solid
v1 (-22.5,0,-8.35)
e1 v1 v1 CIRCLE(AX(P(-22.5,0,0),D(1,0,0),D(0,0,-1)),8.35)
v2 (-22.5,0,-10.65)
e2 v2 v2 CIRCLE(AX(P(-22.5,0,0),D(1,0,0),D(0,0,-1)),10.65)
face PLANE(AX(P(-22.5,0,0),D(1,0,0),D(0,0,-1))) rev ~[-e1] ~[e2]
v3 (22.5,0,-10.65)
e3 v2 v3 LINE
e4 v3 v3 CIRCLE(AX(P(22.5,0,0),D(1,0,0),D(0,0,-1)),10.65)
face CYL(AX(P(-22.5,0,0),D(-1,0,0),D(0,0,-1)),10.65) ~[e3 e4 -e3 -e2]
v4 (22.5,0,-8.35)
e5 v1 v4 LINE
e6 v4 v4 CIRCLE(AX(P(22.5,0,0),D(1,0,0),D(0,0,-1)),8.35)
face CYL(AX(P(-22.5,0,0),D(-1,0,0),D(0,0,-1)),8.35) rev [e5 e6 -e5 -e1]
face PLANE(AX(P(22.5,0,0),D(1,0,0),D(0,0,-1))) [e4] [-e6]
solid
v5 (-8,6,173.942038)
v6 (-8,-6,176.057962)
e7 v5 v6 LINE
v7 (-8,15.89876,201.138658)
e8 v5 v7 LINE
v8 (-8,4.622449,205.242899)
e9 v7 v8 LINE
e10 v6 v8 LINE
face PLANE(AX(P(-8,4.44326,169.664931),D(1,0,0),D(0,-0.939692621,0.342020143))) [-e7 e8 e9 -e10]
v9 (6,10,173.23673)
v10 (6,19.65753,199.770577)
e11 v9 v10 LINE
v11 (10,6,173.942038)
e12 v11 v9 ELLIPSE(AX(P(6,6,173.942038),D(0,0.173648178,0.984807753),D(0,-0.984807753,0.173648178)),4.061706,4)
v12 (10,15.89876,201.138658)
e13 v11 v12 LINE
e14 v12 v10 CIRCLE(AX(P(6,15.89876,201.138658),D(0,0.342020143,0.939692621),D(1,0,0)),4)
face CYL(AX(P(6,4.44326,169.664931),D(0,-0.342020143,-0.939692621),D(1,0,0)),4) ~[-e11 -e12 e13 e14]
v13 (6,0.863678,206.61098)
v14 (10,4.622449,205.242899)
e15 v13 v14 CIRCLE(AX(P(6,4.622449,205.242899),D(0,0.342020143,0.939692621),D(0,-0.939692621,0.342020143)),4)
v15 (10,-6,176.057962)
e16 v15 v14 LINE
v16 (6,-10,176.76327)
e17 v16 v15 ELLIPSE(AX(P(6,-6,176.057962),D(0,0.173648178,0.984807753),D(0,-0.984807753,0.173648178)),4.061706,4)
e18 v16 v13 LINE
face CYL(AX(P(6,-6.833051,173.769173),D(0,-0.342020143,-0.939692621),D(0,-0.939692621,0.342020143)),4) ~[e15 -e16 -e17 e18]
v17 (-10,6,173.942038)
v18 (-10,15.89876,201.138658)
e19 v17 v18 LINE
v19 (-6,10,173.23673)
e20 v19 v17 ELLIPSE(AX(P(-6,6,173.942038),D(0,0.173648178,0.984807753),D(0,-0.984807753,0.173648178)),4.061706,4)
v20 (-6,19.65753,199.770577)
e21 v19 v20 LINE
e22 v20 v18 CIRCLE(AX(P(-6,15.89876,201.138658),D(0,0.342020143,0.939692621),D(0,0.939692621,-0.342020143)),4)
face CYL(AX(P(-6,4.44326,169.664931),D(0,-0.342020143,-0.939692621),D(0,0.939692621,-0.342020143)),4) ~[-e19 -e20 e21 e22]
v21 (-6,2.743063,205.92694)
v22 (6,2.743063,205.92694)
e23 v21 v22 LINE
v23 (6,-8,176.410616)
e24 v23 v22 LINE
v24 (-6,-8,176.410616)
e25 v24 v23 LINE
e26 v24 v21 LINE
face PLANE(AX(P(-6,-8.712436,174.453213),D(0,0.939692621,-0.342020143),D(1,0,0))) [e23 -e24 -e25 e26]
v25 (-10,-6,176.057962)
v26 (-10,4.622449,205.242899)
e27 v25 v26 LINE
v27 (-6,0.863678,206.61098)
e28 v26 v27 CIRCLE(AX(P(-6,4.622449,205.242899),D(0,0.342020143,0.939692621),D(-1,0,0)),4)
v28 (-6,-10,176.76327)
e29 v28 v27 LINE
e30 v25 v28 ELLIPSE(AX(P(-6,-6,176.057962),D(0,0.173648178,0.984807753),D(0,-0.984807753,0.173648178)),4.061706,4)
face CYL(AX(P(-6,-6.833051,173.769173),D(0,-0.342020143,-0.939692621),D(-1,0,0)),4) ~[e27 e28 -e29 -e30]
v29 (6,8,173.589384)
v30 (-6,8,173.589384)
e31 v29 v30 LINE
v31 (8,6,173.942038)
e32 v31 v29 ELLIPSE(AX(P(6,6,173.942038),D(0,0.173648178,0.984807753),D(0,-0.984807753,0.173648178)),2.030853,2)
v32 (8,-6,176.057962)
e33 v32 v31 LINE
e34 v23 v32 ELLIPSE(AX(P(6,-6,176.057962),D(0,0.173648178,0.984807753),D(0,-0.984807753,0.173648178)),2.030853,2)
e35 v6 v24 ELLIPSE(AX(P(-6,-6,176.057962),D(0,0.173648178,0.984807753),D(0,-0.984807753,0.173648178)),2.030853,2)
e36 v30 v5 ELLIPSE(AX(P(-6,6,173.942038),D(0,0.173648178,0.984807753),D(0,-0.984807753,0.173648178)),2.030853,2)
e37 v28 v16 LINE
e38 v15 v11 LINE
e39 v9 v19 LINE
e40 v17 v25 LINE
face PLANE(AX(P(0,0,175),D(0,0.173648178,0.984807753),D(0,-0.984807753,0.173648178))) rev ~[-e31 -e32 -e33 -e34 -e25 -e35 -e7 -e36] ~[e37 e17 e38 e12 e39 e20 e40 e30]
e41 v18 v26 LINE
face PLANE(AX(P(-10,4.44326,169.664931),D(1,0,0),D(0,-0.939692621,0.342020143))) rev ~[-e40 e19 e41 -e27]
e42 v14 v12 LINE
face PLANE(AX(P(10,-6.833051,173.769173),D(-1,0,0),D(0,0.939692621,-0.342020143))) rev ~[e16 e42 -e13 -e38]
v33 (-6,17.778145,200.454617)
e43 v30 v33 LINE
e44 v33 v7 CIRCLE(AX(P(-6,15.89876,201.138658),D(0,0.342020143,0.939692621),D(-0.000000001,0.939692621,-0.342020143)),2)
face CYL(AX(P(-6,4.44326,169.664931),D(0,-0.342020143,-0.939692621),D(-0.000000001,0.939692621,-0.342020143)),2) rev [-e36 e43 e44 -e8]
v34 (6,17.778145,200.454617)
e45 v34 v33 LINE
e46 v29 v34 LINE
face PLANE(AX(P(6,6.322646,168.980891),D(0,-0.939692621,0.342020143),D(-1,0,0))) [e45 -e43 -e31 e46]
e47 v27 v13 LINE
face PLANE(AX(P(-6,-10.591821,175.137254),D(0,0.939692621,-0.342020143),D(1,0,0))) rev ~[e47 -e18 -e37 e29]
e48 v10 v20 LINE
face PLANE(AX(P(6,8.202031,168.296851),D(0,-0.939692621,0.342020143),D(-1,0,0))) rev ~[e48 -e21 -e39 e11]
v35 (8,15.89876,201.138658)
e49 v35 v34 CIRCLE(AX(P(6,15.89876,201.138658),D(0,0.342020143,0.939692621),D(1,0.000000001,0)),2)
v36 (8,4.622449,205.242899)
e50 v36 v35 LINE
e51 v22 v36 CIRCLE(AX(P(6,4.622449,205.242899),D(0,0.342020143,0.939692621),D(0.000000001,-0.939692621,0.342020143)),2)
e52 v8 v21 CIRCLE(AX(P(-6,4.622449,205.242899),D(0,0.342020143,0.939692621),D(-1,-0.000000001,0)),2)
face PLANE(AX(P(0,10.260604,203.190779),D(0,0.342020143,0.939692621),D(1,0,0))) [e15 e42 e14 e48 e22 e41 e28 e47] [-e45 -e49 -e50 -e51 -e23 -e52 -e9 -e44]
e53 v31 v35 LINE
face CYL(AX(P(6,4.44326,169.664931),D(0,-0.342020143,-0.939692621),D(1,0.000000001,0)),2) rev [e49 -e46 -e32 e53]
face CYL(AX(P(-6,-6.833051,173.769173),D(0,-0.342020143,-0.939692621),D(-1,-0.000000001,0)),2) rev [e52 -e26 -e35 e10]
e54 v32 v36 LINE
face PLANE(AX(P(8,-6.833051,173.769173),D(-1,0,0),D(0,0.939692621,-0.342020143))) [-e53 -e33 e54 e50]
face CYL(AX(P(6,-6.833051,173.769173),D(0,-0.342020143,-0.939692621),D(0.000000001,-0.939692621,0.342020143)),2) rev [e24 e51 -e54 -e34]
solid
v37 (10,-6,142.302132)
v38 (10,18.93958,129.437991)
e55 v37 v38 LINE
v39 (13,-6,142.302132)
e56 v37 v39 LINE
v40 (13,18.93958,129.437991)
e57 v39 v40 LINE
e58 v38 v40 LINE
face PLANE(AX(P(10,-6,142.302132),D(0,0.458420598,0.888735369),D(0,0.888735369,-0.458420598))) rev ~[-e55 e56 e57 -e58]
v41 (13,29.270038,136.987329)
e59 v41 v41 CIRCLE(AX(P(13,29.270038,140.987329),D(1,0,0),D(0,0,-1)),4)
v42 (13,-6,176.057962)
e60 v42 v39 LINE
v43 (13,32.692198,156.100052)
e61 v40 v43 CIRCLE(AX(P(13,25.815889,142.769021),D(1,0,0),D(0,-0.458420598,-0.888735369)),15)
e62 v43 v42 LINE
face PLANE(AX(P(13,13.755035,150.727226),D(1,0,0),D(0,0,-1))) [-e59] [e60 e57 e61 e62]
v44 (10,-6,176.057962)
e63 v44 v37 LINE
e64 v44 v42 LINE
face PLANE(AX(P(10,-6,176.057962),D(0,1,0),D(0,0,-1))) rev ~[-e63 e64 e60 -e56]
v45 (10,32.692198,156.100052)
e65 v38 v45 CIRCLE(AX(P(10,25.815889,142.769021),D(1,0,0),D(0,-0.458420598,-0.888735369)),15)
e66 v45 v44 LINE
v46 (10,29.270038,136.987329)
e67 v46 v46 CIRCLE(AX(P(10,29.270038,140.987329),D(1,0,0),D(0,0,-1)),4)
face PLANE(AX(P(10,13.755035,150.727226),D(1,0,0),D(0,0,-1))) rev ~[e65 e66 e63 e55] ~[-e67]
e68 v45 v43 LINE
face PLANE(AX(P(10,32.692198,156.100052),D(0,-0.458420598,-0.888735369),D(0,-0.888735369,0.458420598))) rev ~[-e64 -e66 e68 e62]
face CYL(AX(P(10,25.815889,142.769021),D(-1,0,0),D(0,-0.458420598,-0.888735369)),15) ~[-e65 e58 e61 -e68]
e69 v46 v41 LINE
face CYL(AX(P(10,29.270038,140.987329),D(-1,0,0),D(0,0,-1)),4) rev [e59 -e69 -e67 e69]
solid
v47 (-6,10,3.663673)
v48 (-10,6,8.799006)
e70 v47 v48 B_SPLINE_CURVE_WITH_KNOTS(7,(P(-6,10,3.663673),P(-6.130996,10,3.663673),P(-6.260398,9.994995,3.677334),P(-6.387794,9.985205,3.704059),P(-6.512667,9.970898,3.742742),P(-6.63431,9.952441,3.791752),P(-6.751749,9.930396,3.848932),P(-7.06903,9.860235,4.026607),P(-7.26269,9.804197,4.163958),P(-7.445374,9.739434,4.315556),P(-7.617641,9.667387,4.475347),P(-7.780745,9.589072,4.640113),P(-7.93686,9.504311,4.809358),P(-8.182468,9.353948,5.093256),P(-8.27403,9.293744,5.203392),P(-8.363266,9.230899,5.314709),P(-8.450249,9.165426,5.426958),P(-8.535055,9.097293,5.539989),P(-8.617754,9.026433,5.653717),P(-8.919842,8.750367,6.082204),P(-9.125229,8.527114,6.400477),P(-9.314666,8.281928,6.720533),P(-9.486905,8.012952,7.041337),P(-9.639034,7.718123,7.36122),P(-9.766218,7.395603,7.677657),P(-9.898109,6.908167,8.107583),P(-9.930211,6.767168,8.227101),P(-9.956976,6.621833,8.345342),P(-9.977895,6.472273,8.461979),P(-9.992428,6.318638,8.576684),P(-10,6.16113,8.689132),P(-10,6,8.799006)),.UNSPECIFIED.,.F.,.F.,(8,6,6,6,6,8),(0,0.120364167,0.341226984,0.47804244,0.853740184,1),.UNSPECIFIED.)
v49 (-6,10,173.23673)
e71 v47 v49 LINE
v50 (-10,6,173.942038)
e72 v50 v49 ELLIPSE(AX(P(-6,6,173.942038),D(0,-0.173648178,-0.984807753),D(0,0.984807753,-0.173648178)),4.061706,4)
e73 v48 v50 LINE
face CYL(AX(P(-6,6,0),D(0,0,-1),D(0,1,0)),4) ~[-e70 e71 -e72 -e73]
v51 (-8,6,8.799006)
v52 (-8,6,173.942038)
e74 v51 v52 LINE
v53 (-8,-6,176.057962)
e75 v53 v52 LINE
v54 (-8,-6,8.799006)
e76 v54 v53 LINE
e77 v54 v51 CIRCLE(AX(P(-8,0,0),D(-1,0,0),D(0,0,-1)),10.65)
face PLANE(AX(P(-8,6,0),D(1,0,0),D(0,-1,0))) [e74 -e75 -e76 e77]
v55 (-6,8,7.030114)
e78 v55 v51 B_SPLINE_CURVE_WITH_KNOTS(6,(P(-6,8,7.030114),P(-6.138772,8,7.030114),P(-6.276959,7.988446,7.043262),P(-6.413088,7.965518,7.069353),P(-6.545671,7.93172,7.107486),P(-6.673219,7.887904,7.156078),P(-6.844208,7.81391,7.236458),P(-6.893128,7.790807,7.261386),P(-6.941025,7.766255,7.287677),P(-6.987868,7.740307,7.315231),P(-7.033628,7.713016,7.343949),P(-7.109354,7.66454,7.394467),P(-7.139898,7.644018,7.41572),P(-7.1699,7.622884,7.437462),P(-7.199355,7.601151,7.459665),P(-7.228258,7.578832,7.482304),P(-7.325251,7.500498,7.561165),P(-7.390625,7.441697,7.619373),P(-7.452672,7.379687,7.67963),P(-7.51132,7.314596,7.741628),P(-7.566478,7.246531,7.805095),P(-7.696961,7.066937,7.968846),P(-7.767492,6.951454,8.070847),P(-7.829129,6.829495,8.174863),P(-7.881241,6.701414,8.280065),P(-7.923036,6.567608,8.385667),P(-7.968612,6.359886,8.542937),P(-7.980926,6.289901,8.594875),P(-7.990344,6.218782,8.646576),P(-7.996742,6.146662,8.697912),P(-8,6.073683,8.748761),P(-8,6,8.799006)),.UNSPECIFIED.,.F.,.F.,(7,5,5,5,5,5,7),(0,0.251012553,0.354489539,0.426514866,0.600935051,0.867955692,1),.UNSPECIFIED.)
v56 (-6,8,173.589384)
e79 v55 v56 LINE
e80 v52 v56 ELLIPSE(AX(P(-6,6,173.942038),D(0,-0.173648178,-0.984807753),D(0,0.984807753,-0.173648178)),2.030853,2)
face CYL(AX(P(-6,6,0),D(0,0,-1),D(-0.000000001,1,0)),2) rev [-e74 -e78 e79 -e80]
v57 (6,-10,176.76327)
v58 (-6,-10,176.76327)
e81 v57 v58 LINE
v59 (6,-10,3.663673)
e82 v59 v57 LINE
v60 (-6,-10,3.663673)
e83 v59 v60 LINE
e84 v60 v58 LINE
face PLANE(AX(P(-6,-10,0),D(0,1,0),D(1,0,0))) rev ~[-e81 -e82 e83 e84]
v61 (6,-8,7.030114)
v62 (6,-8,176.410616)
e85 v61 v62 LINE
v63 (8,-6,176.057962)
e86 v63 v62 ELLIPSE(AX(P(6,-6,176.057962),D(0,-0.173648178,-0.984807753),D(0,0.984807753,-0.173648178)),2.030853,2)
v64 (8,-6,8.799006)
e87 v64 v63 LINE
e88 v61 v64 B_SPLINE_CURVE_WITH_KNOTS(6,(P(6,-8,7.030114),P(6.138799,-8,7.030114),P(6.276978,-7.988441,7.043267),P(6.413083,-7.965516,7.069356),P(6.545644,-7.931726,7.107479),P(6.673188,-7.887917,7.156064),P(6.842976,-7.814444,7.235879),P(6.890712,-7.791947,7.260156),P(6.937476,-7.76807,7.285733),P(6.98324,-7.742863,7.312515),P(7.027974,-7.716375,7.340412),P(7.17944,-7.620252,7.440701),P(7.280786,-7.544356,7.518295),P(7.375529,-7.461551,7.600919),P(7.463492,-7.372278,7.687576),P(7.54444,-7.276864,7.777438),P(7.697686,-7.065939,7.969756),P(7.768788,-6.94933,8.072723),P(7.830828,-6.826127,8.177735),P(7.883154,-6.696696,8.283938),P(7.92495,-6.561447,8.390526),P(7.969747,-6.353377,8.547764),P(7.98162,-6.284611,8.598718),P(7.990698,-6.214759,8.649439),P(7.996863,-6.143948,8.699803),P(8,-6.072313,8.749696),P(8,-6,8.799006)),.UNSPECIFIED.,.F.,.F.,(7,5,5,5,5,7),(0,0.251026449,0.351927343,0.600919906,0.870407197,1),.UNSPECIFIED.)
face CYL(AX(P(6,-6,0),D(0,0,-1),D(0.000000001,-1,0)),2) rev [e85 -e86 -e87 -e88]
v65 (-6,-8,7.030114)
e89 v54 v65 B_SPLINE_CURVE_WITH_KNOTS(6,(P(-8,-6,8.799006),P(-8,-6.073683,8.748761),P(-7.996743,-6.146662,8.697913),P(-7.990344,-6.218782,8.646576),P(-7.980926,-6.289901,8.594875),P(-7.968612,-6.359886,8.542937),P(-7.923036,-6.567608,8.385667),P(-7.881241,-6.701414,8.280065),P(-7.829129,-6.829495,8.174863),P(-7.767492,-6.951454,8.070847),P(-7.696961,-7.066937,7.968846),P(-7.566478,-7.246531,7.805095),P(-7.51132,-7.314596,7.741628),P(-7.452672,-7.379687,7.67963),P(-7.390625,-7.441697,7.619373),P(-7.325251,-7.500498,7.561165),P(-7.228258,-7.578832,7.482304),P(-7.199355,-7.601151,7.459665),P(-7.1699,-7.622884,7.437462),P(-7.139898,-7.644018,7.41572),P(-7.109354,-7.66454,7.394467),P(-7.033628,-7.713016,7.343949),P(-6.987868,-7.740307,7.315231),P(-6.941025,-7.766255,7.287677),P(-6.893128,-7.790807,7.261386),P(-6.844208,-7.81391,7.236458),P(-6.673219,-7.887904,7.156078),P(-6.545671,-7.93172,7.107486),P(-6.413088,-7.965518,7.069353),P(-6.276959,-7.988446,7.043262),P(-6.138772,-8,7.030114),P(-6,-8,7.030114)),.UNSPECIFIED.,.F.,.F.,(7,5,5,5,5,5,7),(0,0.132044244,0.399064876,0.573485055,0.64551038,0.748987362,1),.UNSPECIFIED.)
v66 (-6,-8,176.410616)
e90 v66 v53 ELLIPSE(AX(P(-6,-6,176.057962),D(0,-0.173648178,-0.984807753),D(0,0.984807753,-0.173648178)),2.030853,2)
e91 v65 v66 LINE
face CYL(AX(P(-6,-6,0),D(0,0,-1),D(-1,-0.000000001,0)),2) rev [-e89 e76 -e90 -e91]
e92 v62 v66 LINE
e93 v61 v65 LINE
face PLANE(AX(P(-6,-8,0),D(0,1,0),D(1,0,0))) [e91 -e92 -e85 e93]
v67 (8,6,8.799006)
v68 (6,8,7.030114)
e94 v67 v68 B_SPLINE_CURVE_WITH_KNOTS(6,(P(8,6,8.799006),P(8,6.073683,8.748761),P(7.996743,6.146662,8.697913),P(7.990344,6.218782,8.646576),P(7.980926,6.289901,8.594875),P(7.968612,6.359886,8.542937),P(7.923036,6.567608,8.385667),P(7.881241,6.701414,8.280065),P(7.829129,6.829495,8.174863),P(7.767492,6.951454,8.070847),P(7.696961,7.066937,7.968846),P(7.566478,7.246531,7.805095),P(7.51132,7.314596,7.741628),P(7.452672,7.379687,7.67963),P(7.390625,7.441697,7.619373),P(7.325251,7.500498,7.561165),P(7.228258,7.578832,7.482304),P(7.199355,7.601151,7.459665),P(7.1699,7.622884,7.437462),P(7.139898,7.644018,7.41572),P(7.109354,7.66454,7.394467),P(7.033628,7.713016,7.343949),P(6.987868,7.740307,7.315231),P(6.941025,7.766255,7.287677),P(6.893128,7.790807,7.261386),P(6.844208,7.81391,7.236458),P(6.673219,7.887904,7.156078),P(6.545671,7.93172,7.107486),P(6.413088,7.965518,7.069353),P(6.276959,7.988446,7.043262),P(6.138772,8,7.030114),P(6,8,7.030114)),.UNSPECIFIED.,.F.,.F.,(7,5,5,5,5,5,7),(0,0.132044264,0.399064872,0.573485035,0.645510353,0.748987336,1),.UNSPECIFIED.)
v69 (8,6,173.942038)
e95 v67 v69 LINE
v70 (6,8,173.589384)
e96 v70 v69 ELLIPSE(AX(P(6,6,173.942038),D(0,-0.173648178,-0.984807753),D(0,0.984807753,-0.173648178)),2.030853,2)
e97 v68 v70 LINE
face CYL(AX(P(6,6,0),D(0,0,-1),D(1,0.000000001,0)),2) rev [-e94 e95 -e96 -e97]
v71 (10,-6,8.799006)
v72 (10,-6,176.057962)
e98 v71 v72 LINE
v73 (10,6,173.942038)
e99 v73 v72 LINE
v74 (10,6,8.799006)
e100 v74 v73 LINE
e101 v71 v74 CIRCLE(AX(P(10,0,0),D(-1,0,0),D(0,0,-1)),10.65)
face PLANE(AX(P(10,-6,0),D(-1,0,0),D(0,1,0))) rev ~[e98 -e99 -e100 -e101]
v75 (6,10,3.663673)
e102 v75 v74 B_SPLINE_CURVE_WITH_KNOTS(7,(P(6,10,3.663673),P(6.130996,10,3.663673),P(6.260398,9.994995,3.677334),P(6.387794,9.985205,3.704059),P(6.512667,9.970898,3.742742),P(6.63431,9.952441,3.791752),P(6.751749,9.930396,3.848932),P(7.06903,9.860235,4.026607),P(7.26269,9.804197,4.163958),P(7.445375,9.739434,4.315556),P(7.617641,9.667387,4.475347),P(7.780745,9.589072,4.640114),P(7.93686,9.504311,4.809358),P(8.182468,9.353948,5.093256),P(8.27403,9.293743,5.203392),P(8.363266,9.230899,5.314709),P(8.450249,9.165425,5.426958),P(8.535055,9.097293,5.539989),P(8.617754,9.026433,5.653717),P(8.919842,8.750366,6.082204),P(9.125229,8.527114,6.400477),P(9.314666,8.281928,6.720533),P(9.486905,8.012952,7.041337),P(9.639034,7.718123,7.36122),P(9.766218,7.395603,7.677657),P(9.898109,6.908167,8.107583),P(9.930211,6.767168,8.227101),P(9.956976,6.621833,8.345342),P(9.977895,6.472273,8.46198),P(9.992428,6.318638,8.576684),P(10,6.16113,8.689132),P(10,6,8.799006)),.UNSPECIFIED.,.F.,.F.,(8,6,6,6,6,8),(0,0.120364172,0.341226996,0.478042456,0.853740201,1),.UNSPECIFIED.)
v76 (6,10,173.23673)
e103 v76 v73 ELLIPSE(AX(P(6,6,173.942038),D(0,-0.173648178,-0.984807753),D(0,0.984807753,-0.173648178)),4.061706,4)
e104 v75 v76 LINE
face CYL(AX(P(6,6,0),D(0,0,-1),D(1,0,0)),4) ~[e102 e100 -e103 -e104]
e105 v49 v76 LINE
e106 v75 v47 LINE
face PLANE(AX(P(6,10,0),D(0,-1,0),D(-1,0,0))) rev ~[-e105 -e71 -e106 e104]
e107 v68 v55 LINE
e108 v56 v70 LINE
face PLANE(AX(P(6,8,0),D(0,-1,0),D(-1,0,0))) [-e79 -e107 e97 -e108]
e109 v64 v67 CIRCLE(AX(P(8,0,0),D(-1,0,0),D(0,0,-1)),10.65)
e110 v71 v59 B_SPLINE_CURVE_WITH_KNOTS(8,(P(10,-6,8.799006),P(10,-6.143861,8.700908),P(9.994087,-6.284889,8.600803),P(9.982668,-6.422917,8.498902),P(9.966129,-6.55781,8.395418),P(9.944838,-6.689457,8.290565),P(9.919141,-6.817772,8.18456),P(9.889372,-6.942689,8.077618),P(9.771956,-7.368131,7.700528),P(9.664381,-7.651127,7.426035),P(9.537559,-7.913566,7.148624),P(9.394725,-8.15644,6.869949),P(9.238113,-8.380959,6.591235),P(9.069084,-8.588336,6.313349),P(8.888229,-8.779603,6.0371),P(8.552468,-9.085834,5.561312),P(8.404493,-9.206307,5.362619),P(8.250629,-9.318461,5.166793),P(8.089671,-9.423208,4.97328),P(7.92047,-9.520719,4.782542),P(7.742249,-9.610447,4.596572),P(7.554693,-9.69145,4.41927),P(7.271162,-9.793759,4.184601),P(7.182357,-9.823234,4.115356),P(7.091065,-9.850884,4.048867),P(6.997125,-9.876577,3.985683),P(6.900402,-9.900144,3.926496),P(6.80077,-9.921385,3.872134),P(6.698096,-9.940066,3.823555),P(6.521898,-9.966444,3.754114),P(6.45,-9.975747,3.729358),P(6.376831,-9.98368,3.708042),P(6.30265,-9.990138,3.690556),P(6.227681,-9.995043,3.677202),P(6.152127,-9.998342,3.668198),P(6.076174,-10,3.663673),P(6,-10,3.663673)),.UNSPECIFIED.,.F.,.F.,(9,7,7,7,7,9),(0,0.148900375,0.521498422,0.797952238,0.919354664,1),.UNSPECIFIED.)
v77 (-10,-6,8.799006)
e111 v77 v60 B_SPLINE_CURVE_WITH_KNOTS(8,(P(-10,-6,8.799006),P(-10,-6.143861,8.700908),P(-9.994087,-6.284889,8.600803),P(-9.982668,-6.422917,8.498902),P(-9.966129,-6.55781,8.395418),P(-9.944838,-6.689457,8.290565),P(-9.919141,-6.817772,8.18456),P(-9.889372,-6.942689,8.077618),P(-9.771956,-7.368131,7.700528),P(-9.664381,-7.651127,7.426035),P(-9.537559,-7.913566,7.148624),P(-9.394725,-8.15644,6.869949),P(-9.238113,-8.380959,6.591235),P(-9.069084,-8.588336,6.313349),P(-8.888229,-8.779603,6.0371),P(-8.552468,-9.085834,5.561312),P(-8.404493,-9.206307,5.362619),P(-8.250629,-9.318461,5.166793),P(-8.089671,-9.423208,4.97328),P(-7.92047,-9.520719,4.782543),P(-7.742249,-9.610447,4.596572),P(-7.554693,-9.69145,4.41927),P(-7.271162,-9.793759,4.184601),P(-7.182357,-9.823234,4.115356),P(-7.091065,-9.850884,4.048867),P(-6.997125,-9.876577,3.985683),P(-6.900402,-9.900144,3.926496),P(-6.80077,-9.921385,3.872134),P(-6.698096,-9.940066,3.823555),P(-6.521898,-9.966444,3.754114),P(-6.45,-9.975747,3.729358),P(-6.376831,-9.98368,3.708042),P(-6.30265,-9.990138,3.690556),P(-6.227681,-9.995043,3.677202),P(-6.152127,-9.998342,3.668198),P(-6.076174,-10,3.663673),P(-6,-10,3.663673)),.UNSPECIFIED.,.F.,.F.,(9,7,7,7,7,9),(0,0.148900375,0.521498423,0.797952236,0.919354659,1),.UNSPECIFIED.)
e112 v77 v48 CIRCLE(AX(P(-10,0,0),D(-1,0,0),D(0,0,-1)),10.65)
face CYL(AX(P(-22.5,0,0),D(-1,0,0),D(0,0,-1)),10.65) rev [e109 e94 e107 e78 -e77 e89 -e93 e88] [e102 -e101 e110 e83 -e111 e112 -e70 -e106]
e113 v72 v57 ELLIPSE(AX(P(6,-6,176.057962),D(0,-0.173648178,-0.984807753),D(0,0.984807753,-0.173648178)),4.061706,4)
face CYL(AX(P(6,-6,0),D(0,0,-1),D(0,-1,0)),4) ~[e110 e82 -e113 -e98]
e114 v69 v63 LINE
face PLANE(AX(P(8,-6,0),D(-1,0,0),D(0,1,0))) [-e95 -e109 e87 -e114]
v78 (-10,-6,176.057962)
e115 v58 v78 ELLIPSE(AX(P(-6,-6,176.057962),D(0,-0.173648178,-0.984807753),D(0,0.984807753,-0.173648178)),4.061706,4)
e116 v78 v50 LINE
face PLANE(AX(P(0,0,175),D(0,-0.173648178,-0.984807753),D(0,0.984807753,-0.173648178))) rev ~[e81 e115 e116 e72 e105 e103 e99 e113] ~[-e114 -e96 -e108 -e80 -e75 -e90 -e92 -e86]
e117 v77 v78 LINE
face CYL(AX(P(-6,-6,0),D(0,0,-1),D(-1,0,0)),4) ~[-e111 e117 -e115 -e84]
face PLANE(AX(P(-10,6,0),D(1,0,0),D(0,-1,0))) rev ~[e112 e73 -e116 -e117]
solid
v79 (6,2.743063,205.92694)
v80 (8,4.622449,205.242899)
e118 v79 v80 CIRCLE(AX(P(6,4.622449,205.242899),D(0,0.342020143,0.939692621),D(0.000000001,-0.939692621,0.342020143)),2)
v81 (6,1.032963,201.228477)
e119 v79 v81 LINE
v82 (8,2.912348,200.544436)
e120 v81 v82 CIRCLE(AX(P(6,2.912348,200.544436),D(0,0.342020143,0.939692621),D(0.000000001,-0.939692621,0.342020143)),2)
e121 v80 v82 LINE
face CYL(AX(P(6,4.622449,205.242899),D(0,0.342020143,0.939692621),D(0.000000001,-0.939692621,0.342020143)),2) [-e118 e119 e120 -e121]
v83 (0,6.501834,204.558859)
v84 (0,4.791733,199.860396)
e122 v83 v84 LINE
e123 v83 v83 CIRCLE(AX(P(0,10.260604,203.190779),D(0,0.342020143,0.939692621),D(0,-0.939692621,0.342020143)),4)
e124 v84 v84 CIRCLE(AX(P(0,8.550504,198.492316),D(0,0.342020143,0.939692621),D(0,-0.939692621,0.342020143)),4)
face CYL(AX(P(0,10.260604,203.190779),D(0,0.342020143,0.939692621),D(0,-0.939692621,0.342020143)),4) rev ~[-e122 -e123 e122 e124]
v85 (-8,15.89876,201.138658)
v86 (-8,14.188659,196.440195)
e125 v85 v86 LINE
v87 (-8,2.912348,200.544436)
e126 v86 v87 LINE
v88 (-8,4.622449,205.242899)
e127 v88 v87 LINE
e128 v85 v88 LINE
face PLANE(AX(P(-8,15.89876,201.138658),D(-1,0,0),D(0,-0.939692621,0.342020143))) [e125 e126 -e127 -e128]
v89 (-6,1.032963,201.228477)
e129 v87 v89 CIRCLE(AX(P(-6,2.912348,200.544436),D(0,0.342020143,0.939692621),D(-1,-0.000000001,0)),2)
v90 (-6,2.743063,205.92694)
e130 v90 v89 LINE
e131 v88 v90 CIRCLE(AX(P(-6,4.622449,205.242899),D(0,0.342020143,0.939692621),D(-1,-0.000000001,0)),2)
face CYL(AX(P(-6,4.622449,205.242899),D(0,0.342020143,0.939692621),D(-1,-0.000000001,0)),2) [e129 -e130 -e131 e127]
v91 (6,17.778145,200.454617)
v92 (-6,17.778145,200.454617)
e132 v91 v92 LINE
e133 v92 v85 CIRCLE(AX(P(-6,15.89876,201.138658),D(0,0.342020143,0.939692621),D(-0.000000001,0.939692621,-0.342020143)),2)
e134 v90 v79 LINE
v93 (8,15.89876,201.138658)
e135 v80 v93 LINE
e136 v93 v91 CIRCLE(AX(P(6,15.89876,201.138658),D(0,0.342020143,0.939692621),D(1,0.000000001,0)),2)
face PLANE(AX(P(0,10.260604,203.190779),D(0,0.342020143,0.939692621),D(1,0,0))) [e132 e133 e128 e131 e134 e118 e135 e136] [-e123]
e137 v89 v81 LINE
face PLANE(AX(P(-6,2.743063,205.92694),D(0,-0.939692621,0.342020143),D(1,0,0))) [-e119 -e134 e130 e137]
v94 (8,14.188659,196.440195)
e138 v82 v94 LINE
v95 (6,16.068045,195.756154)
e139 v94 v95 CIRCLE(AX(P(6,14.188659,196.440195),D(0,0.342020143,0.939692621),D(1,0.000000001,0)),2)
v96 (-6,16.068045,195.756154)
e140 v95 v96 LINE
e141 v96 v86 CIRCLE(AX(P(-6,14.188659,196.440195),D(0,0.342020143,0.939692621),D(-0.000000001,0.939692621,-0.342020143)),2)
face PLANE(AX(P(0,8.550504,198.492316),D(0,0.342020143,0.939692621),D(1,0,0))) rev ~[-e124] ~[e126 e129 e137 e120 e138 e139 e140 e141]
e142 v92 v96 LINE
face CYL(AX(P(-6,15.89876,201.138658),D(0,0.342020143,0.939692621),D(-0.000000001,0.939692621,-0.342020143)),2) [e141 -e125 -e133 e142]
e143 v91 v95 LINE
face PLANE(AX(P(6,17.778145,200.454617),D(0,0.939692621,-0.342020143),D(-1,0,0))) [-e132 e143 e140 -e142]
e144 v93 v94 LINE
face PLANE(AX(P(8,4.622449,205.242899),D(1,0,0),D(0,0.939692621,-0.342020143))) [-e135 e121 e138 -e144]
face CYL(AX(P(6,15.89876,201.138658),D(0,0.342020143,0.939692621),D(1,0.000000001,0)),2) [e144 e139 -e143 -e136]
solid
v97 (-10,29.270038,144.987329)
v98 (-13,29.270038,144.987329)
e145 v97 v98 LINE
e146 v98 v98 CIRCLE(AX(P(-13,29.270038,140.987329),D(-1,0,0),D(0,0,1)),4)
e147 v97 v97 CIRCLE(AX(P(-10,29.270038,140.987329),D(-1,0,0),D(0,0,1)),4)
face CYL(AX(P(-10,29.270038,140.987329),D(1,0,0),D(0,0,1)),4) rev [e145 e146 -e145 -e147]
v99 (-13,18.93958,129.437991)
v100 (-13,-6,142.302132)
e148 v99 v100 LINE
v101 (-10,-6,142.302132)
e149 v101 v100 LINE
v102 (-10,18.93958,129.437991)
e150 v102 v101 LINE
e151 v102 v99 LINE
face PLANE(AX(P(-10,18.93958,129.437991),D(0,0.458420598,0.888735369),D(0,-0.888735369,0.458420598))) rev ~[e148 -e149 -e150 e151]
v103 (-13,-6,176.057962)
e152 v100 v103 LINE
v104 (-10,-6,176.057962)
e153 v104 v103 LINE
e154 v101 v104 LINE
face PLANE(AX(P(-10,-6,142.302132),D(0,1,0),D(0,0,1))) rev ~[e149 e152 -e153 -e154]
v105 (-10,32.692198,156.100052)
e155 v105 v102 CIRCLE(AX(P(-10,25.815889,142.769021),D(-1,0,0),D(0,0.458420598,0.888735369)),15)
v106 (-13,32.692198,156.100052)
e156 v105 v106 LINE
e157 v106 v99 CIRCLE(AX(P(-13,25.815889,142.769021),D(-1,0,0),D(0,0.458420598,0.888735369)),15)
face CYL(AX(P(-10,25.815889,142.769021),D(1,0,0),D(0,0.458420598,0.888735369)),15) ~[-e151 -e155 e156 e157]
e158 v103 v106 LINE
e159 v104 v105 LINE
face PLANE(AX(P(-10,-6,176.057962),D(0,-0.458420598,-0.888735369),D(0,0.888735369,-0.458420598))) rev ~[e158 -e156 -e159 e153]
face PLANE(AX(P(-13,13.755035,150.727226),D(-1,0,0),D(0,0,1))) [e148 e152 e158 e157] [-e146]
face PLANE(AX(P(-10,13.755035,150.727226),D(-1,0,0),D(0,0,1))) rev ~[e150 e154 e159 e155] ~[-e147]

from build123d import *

# Parameters (mm, degrees)
SQUARE_TUBE_20_X_20_X_2_1_DEPTH   = 178.493640075
SQUARE_TUBE_20_X_20_X_2_1_2_DEPTH = 33.493640075
SKETCH15_R                        = 10.65
SKETCH15_R_2                      = 8.35
PIPE_21_3_X_2_3_1_DEPTH           = 45
SKETCH16_R                        = 4
BOSS_EXTRUDE1_DEPTH               = 3
SKETCH17_R                        = 4
BOSS_EXTRUDE2_DEPTH               = 3
SKETCH18_R                        = 4
BOSS_EXTRUDE3_DEPTH               = 5


with BuildPart() as part:
    # Sketch14 → Square tube 20 X 20 X 2(1) (new body)
    with BuildSketch(Plane.XY):
        with BuildLine():
            Line((-6, -10), (6, -10))
            ThreePointArc((6, -10), (8.828427125, -8.828427125), (10, -6))
            Line((10, -6), (10, 6))
            ThreePointArc((10, 6), (8.828427125, 8.828427125), (6, 10))
            Line((6, 10), (-6, 10))
            ThreePointArc((-6, 10), (-8.828427125, 8.828427125), (-10, 6))
            Line((-10, 6), (-10, -6))
            ThreePointArc((-10, -6), (-8.828427125, -8.828427125), (-6, -10))
        make_face()
        with BuildLine():
            Line((-6, -8), (6, -8))
            ThreePointArc((6, -8), (7.414213562, -7.414213562), (8, -6))
            Line((8, -6), (8, 6))
            ThreePointArc((8, 6), (7.414213562, 7.414213562), (6, 8))
            Line((6, 8), (-6, 8))
            ThreePointArc((-6, 8), (-7.414213562, 7.414213562), (-8, 6))
            Line((-8, 6), (-8, -6))
            ThreePointArc((-8, -6), (-7.414213562, -7.414213562), (-6, -8))
        make_face(mode=Mode.SUBTRACT)
    extrude(amount=SQUARE_TUBE_20_X_20_X_2_1_DEPTH)

    # Square tube 20 X 20 X 2(1) mitre 1
    split(bisect_by=Plane(origin=(0, 0, 175), x_dir=(0, 0.984807753, -0.173648178), z_dir=(0, -0.173648178, -0.984807753)), keep=Keep.TOP)


with BuildPart() as body_2:
    # Sketch14 on segment 2 (carried to segment 2) → Square tube 20 X 20 X 2_1 2 (new body)
    with BuildSketch(Plane(origin=(0, -1.194895279, 171.717052202), x_dir=(1, 0, 0), z_dir=(0, 0.342020143, 0.939692621))):
        with BuildLine():
            Line((-6, -10), (6, -10))
            ThreePointArc((6, -10), (8.828427125, -8.828427125), (10, -6))
            Line((10, -6), (10, 6))
            ThreePointArc((10, 6), (8.828427125, 8.828427125), (6, 10))
            Line((6, 10), (-6, 10))
            ThreePointArc((-6, 10), (-8.828427125, 8.828427125), (-10, 6))
            Line((-10, 6), (-10, -6))
            ThreePointArc((-10, -6), (-8.828427125, -8.828427125), (-6, -10))
        make_face()
        with BuildLine():
            Line((-6, -8), (6, -8))
            ThreePointArc((6, -8), (7.414213562, -7.414213562), (8, -6))
            Line((8, -6), (8, 6))
            ThreePointArc((8, 6), (7.414213562, 7.414213562), (6, 8))
            Line((6, 8), (-6, 8))
            ThreePointArc((-6, 8), (-7.414213562, 7.414213562), (-8, 6))
            Line((-8, 6), (-8, -6))
            ThreePointArc((-8, -6), (-7.414213562, -7.414213562), (-6, -8))
        make_face(mode=Mode.SUBTRACT)
    extrude(amount=SQUARE_TUBE_20_X_20_X_2_1_2_DEPTH)

    # Square tube 20 X 20 X 2_1 2 mitre 1
    split(bisect_by=Plane(origin=(0, 0, 175), x_dir=(0, -0.984807753, 0.173648178), z_dir=(0, 0.173648178, 0.984807753)), keep=Keep.TOP)


with BuildPart() as body_3:
    # Sketch15 → Pipe 21.3 X 2.3(1) (new body)
    with BuildSketch(Plane(origin=(-22.5, 0, 0), x_dir=(0, 0, -1), z_dir=(1, 0, 0))):
        Circle(SKETCH15_R)
        Circle(SKETCH15_R_2, mode=Mode.SUBTRACT)
    extrude(amount=PIPE_21_3_X_2_3_1_DEPTH)


with BuildPart() as part_1:
    add(part.part)

    # Trim/Extend1: cut back where it meets the other member's skin (coped)
    split(bisect_by=body_3.part.faces().sort_by_distance((0, 0, 10.65))[0], keep=Keep.TOP)


with BuildPart() as body_4:
    # Sketch16 → Boss-Extrude1 (new body)
    with BuildSketch(Plane.ZY.offset(10)):
        with BuildLine():
            Line((176.057961884, -6), (156.100051786, 32.692198121))
            ThreePointArc((156.100051786, 32.692198121), (135.89271229, 39.146919686), (129.437990725, 18.939580189))
            Line((129.437990725, 18.939580189), (142.302131908, -6))
            Line((142.302131908, -6), (176.057961884, -6))
        make_face()
        with Locations((140.987329124, 29.27003764)):
            Circle(SKETCH16_R, mode=Mode.SUBTRACT)
    extrude(amount=BOSS_EXTRUDE1_DEPTH)


with BuildPart() as body_5:
    # Sketch17 → Boss-Extrude2 (new body)
    with BuildSketch(Plane(origin=(10, 0, 0), x_dir=(0, 0, -1), z_dir=(1, 0, 0))):
        with BuildLine():
            Line((-156.100051786, 32.692198121), (-176.057961884, -6))
            Line((-176.057961884, -6), (-142.302131908, -6))
            Line((-142.302131908, -6), (-129.437990725, 18.939580189))
            ThreePointArc((-129.437990725, 18.939580189), (-135.89271229, 39.146919686), (-156.100051786, 32.692198121))
        make_face()
        with Locations((-140.987329124, 29.27003764)):
            Circle(SKETCH17_R, mode=Mode.SUBTRACT)
    extrude(amount=BOSS_EXTRUDE2_DEPTH)


with BuildPart() as body_6:
    # Sketch18 → Boss-Extrude3 (new body)
    with BuildSketch(Plane(origin=(0, 66.504520147, 182.719667396), x_dir=(1, 0, 0), z_dir=(0, 0.3420201433256697, 0.9396926207859081))):
        with BuildLine():
            Line((8, -65.853525082), (8, -53.853525082))
            ThreePointArc((8, -53.853525082), (7.414213562, -52.43931152), (6, -51.853525082))
            Line((6, -51.853525082), (-6, -51.853525082))
            ThreePointArc((-6, -51.853525082), (-7.414213562, -52.43931152), (-8, -53.853525082))
            Line((-8, -53.853525082), (-8, -65.853525082))
            ThreePointArc((-8, -65.853525082), (-7.414213562, -67.267738644), (-6, -67.853525082))
            Line((-6, -67.853525082), (6, -67.853525082))
            ThreePointArc((6, -67.853525082), (7.414213562, -67.267738644), (8, -65.853525082))
        make_face()
        with Locations(Location((0, -59.853525082, 0), (0, 0, 270))):
            Circle(SKETCH18_R, mode=Mode.SUBTRACT)
    extrude(amount=-BOSS_EXTRUDE3_DEPTH)


solid = Compound([body_2.part, body_3.part, part_1.part, body_4.part, body_5.part, body_6.part])
